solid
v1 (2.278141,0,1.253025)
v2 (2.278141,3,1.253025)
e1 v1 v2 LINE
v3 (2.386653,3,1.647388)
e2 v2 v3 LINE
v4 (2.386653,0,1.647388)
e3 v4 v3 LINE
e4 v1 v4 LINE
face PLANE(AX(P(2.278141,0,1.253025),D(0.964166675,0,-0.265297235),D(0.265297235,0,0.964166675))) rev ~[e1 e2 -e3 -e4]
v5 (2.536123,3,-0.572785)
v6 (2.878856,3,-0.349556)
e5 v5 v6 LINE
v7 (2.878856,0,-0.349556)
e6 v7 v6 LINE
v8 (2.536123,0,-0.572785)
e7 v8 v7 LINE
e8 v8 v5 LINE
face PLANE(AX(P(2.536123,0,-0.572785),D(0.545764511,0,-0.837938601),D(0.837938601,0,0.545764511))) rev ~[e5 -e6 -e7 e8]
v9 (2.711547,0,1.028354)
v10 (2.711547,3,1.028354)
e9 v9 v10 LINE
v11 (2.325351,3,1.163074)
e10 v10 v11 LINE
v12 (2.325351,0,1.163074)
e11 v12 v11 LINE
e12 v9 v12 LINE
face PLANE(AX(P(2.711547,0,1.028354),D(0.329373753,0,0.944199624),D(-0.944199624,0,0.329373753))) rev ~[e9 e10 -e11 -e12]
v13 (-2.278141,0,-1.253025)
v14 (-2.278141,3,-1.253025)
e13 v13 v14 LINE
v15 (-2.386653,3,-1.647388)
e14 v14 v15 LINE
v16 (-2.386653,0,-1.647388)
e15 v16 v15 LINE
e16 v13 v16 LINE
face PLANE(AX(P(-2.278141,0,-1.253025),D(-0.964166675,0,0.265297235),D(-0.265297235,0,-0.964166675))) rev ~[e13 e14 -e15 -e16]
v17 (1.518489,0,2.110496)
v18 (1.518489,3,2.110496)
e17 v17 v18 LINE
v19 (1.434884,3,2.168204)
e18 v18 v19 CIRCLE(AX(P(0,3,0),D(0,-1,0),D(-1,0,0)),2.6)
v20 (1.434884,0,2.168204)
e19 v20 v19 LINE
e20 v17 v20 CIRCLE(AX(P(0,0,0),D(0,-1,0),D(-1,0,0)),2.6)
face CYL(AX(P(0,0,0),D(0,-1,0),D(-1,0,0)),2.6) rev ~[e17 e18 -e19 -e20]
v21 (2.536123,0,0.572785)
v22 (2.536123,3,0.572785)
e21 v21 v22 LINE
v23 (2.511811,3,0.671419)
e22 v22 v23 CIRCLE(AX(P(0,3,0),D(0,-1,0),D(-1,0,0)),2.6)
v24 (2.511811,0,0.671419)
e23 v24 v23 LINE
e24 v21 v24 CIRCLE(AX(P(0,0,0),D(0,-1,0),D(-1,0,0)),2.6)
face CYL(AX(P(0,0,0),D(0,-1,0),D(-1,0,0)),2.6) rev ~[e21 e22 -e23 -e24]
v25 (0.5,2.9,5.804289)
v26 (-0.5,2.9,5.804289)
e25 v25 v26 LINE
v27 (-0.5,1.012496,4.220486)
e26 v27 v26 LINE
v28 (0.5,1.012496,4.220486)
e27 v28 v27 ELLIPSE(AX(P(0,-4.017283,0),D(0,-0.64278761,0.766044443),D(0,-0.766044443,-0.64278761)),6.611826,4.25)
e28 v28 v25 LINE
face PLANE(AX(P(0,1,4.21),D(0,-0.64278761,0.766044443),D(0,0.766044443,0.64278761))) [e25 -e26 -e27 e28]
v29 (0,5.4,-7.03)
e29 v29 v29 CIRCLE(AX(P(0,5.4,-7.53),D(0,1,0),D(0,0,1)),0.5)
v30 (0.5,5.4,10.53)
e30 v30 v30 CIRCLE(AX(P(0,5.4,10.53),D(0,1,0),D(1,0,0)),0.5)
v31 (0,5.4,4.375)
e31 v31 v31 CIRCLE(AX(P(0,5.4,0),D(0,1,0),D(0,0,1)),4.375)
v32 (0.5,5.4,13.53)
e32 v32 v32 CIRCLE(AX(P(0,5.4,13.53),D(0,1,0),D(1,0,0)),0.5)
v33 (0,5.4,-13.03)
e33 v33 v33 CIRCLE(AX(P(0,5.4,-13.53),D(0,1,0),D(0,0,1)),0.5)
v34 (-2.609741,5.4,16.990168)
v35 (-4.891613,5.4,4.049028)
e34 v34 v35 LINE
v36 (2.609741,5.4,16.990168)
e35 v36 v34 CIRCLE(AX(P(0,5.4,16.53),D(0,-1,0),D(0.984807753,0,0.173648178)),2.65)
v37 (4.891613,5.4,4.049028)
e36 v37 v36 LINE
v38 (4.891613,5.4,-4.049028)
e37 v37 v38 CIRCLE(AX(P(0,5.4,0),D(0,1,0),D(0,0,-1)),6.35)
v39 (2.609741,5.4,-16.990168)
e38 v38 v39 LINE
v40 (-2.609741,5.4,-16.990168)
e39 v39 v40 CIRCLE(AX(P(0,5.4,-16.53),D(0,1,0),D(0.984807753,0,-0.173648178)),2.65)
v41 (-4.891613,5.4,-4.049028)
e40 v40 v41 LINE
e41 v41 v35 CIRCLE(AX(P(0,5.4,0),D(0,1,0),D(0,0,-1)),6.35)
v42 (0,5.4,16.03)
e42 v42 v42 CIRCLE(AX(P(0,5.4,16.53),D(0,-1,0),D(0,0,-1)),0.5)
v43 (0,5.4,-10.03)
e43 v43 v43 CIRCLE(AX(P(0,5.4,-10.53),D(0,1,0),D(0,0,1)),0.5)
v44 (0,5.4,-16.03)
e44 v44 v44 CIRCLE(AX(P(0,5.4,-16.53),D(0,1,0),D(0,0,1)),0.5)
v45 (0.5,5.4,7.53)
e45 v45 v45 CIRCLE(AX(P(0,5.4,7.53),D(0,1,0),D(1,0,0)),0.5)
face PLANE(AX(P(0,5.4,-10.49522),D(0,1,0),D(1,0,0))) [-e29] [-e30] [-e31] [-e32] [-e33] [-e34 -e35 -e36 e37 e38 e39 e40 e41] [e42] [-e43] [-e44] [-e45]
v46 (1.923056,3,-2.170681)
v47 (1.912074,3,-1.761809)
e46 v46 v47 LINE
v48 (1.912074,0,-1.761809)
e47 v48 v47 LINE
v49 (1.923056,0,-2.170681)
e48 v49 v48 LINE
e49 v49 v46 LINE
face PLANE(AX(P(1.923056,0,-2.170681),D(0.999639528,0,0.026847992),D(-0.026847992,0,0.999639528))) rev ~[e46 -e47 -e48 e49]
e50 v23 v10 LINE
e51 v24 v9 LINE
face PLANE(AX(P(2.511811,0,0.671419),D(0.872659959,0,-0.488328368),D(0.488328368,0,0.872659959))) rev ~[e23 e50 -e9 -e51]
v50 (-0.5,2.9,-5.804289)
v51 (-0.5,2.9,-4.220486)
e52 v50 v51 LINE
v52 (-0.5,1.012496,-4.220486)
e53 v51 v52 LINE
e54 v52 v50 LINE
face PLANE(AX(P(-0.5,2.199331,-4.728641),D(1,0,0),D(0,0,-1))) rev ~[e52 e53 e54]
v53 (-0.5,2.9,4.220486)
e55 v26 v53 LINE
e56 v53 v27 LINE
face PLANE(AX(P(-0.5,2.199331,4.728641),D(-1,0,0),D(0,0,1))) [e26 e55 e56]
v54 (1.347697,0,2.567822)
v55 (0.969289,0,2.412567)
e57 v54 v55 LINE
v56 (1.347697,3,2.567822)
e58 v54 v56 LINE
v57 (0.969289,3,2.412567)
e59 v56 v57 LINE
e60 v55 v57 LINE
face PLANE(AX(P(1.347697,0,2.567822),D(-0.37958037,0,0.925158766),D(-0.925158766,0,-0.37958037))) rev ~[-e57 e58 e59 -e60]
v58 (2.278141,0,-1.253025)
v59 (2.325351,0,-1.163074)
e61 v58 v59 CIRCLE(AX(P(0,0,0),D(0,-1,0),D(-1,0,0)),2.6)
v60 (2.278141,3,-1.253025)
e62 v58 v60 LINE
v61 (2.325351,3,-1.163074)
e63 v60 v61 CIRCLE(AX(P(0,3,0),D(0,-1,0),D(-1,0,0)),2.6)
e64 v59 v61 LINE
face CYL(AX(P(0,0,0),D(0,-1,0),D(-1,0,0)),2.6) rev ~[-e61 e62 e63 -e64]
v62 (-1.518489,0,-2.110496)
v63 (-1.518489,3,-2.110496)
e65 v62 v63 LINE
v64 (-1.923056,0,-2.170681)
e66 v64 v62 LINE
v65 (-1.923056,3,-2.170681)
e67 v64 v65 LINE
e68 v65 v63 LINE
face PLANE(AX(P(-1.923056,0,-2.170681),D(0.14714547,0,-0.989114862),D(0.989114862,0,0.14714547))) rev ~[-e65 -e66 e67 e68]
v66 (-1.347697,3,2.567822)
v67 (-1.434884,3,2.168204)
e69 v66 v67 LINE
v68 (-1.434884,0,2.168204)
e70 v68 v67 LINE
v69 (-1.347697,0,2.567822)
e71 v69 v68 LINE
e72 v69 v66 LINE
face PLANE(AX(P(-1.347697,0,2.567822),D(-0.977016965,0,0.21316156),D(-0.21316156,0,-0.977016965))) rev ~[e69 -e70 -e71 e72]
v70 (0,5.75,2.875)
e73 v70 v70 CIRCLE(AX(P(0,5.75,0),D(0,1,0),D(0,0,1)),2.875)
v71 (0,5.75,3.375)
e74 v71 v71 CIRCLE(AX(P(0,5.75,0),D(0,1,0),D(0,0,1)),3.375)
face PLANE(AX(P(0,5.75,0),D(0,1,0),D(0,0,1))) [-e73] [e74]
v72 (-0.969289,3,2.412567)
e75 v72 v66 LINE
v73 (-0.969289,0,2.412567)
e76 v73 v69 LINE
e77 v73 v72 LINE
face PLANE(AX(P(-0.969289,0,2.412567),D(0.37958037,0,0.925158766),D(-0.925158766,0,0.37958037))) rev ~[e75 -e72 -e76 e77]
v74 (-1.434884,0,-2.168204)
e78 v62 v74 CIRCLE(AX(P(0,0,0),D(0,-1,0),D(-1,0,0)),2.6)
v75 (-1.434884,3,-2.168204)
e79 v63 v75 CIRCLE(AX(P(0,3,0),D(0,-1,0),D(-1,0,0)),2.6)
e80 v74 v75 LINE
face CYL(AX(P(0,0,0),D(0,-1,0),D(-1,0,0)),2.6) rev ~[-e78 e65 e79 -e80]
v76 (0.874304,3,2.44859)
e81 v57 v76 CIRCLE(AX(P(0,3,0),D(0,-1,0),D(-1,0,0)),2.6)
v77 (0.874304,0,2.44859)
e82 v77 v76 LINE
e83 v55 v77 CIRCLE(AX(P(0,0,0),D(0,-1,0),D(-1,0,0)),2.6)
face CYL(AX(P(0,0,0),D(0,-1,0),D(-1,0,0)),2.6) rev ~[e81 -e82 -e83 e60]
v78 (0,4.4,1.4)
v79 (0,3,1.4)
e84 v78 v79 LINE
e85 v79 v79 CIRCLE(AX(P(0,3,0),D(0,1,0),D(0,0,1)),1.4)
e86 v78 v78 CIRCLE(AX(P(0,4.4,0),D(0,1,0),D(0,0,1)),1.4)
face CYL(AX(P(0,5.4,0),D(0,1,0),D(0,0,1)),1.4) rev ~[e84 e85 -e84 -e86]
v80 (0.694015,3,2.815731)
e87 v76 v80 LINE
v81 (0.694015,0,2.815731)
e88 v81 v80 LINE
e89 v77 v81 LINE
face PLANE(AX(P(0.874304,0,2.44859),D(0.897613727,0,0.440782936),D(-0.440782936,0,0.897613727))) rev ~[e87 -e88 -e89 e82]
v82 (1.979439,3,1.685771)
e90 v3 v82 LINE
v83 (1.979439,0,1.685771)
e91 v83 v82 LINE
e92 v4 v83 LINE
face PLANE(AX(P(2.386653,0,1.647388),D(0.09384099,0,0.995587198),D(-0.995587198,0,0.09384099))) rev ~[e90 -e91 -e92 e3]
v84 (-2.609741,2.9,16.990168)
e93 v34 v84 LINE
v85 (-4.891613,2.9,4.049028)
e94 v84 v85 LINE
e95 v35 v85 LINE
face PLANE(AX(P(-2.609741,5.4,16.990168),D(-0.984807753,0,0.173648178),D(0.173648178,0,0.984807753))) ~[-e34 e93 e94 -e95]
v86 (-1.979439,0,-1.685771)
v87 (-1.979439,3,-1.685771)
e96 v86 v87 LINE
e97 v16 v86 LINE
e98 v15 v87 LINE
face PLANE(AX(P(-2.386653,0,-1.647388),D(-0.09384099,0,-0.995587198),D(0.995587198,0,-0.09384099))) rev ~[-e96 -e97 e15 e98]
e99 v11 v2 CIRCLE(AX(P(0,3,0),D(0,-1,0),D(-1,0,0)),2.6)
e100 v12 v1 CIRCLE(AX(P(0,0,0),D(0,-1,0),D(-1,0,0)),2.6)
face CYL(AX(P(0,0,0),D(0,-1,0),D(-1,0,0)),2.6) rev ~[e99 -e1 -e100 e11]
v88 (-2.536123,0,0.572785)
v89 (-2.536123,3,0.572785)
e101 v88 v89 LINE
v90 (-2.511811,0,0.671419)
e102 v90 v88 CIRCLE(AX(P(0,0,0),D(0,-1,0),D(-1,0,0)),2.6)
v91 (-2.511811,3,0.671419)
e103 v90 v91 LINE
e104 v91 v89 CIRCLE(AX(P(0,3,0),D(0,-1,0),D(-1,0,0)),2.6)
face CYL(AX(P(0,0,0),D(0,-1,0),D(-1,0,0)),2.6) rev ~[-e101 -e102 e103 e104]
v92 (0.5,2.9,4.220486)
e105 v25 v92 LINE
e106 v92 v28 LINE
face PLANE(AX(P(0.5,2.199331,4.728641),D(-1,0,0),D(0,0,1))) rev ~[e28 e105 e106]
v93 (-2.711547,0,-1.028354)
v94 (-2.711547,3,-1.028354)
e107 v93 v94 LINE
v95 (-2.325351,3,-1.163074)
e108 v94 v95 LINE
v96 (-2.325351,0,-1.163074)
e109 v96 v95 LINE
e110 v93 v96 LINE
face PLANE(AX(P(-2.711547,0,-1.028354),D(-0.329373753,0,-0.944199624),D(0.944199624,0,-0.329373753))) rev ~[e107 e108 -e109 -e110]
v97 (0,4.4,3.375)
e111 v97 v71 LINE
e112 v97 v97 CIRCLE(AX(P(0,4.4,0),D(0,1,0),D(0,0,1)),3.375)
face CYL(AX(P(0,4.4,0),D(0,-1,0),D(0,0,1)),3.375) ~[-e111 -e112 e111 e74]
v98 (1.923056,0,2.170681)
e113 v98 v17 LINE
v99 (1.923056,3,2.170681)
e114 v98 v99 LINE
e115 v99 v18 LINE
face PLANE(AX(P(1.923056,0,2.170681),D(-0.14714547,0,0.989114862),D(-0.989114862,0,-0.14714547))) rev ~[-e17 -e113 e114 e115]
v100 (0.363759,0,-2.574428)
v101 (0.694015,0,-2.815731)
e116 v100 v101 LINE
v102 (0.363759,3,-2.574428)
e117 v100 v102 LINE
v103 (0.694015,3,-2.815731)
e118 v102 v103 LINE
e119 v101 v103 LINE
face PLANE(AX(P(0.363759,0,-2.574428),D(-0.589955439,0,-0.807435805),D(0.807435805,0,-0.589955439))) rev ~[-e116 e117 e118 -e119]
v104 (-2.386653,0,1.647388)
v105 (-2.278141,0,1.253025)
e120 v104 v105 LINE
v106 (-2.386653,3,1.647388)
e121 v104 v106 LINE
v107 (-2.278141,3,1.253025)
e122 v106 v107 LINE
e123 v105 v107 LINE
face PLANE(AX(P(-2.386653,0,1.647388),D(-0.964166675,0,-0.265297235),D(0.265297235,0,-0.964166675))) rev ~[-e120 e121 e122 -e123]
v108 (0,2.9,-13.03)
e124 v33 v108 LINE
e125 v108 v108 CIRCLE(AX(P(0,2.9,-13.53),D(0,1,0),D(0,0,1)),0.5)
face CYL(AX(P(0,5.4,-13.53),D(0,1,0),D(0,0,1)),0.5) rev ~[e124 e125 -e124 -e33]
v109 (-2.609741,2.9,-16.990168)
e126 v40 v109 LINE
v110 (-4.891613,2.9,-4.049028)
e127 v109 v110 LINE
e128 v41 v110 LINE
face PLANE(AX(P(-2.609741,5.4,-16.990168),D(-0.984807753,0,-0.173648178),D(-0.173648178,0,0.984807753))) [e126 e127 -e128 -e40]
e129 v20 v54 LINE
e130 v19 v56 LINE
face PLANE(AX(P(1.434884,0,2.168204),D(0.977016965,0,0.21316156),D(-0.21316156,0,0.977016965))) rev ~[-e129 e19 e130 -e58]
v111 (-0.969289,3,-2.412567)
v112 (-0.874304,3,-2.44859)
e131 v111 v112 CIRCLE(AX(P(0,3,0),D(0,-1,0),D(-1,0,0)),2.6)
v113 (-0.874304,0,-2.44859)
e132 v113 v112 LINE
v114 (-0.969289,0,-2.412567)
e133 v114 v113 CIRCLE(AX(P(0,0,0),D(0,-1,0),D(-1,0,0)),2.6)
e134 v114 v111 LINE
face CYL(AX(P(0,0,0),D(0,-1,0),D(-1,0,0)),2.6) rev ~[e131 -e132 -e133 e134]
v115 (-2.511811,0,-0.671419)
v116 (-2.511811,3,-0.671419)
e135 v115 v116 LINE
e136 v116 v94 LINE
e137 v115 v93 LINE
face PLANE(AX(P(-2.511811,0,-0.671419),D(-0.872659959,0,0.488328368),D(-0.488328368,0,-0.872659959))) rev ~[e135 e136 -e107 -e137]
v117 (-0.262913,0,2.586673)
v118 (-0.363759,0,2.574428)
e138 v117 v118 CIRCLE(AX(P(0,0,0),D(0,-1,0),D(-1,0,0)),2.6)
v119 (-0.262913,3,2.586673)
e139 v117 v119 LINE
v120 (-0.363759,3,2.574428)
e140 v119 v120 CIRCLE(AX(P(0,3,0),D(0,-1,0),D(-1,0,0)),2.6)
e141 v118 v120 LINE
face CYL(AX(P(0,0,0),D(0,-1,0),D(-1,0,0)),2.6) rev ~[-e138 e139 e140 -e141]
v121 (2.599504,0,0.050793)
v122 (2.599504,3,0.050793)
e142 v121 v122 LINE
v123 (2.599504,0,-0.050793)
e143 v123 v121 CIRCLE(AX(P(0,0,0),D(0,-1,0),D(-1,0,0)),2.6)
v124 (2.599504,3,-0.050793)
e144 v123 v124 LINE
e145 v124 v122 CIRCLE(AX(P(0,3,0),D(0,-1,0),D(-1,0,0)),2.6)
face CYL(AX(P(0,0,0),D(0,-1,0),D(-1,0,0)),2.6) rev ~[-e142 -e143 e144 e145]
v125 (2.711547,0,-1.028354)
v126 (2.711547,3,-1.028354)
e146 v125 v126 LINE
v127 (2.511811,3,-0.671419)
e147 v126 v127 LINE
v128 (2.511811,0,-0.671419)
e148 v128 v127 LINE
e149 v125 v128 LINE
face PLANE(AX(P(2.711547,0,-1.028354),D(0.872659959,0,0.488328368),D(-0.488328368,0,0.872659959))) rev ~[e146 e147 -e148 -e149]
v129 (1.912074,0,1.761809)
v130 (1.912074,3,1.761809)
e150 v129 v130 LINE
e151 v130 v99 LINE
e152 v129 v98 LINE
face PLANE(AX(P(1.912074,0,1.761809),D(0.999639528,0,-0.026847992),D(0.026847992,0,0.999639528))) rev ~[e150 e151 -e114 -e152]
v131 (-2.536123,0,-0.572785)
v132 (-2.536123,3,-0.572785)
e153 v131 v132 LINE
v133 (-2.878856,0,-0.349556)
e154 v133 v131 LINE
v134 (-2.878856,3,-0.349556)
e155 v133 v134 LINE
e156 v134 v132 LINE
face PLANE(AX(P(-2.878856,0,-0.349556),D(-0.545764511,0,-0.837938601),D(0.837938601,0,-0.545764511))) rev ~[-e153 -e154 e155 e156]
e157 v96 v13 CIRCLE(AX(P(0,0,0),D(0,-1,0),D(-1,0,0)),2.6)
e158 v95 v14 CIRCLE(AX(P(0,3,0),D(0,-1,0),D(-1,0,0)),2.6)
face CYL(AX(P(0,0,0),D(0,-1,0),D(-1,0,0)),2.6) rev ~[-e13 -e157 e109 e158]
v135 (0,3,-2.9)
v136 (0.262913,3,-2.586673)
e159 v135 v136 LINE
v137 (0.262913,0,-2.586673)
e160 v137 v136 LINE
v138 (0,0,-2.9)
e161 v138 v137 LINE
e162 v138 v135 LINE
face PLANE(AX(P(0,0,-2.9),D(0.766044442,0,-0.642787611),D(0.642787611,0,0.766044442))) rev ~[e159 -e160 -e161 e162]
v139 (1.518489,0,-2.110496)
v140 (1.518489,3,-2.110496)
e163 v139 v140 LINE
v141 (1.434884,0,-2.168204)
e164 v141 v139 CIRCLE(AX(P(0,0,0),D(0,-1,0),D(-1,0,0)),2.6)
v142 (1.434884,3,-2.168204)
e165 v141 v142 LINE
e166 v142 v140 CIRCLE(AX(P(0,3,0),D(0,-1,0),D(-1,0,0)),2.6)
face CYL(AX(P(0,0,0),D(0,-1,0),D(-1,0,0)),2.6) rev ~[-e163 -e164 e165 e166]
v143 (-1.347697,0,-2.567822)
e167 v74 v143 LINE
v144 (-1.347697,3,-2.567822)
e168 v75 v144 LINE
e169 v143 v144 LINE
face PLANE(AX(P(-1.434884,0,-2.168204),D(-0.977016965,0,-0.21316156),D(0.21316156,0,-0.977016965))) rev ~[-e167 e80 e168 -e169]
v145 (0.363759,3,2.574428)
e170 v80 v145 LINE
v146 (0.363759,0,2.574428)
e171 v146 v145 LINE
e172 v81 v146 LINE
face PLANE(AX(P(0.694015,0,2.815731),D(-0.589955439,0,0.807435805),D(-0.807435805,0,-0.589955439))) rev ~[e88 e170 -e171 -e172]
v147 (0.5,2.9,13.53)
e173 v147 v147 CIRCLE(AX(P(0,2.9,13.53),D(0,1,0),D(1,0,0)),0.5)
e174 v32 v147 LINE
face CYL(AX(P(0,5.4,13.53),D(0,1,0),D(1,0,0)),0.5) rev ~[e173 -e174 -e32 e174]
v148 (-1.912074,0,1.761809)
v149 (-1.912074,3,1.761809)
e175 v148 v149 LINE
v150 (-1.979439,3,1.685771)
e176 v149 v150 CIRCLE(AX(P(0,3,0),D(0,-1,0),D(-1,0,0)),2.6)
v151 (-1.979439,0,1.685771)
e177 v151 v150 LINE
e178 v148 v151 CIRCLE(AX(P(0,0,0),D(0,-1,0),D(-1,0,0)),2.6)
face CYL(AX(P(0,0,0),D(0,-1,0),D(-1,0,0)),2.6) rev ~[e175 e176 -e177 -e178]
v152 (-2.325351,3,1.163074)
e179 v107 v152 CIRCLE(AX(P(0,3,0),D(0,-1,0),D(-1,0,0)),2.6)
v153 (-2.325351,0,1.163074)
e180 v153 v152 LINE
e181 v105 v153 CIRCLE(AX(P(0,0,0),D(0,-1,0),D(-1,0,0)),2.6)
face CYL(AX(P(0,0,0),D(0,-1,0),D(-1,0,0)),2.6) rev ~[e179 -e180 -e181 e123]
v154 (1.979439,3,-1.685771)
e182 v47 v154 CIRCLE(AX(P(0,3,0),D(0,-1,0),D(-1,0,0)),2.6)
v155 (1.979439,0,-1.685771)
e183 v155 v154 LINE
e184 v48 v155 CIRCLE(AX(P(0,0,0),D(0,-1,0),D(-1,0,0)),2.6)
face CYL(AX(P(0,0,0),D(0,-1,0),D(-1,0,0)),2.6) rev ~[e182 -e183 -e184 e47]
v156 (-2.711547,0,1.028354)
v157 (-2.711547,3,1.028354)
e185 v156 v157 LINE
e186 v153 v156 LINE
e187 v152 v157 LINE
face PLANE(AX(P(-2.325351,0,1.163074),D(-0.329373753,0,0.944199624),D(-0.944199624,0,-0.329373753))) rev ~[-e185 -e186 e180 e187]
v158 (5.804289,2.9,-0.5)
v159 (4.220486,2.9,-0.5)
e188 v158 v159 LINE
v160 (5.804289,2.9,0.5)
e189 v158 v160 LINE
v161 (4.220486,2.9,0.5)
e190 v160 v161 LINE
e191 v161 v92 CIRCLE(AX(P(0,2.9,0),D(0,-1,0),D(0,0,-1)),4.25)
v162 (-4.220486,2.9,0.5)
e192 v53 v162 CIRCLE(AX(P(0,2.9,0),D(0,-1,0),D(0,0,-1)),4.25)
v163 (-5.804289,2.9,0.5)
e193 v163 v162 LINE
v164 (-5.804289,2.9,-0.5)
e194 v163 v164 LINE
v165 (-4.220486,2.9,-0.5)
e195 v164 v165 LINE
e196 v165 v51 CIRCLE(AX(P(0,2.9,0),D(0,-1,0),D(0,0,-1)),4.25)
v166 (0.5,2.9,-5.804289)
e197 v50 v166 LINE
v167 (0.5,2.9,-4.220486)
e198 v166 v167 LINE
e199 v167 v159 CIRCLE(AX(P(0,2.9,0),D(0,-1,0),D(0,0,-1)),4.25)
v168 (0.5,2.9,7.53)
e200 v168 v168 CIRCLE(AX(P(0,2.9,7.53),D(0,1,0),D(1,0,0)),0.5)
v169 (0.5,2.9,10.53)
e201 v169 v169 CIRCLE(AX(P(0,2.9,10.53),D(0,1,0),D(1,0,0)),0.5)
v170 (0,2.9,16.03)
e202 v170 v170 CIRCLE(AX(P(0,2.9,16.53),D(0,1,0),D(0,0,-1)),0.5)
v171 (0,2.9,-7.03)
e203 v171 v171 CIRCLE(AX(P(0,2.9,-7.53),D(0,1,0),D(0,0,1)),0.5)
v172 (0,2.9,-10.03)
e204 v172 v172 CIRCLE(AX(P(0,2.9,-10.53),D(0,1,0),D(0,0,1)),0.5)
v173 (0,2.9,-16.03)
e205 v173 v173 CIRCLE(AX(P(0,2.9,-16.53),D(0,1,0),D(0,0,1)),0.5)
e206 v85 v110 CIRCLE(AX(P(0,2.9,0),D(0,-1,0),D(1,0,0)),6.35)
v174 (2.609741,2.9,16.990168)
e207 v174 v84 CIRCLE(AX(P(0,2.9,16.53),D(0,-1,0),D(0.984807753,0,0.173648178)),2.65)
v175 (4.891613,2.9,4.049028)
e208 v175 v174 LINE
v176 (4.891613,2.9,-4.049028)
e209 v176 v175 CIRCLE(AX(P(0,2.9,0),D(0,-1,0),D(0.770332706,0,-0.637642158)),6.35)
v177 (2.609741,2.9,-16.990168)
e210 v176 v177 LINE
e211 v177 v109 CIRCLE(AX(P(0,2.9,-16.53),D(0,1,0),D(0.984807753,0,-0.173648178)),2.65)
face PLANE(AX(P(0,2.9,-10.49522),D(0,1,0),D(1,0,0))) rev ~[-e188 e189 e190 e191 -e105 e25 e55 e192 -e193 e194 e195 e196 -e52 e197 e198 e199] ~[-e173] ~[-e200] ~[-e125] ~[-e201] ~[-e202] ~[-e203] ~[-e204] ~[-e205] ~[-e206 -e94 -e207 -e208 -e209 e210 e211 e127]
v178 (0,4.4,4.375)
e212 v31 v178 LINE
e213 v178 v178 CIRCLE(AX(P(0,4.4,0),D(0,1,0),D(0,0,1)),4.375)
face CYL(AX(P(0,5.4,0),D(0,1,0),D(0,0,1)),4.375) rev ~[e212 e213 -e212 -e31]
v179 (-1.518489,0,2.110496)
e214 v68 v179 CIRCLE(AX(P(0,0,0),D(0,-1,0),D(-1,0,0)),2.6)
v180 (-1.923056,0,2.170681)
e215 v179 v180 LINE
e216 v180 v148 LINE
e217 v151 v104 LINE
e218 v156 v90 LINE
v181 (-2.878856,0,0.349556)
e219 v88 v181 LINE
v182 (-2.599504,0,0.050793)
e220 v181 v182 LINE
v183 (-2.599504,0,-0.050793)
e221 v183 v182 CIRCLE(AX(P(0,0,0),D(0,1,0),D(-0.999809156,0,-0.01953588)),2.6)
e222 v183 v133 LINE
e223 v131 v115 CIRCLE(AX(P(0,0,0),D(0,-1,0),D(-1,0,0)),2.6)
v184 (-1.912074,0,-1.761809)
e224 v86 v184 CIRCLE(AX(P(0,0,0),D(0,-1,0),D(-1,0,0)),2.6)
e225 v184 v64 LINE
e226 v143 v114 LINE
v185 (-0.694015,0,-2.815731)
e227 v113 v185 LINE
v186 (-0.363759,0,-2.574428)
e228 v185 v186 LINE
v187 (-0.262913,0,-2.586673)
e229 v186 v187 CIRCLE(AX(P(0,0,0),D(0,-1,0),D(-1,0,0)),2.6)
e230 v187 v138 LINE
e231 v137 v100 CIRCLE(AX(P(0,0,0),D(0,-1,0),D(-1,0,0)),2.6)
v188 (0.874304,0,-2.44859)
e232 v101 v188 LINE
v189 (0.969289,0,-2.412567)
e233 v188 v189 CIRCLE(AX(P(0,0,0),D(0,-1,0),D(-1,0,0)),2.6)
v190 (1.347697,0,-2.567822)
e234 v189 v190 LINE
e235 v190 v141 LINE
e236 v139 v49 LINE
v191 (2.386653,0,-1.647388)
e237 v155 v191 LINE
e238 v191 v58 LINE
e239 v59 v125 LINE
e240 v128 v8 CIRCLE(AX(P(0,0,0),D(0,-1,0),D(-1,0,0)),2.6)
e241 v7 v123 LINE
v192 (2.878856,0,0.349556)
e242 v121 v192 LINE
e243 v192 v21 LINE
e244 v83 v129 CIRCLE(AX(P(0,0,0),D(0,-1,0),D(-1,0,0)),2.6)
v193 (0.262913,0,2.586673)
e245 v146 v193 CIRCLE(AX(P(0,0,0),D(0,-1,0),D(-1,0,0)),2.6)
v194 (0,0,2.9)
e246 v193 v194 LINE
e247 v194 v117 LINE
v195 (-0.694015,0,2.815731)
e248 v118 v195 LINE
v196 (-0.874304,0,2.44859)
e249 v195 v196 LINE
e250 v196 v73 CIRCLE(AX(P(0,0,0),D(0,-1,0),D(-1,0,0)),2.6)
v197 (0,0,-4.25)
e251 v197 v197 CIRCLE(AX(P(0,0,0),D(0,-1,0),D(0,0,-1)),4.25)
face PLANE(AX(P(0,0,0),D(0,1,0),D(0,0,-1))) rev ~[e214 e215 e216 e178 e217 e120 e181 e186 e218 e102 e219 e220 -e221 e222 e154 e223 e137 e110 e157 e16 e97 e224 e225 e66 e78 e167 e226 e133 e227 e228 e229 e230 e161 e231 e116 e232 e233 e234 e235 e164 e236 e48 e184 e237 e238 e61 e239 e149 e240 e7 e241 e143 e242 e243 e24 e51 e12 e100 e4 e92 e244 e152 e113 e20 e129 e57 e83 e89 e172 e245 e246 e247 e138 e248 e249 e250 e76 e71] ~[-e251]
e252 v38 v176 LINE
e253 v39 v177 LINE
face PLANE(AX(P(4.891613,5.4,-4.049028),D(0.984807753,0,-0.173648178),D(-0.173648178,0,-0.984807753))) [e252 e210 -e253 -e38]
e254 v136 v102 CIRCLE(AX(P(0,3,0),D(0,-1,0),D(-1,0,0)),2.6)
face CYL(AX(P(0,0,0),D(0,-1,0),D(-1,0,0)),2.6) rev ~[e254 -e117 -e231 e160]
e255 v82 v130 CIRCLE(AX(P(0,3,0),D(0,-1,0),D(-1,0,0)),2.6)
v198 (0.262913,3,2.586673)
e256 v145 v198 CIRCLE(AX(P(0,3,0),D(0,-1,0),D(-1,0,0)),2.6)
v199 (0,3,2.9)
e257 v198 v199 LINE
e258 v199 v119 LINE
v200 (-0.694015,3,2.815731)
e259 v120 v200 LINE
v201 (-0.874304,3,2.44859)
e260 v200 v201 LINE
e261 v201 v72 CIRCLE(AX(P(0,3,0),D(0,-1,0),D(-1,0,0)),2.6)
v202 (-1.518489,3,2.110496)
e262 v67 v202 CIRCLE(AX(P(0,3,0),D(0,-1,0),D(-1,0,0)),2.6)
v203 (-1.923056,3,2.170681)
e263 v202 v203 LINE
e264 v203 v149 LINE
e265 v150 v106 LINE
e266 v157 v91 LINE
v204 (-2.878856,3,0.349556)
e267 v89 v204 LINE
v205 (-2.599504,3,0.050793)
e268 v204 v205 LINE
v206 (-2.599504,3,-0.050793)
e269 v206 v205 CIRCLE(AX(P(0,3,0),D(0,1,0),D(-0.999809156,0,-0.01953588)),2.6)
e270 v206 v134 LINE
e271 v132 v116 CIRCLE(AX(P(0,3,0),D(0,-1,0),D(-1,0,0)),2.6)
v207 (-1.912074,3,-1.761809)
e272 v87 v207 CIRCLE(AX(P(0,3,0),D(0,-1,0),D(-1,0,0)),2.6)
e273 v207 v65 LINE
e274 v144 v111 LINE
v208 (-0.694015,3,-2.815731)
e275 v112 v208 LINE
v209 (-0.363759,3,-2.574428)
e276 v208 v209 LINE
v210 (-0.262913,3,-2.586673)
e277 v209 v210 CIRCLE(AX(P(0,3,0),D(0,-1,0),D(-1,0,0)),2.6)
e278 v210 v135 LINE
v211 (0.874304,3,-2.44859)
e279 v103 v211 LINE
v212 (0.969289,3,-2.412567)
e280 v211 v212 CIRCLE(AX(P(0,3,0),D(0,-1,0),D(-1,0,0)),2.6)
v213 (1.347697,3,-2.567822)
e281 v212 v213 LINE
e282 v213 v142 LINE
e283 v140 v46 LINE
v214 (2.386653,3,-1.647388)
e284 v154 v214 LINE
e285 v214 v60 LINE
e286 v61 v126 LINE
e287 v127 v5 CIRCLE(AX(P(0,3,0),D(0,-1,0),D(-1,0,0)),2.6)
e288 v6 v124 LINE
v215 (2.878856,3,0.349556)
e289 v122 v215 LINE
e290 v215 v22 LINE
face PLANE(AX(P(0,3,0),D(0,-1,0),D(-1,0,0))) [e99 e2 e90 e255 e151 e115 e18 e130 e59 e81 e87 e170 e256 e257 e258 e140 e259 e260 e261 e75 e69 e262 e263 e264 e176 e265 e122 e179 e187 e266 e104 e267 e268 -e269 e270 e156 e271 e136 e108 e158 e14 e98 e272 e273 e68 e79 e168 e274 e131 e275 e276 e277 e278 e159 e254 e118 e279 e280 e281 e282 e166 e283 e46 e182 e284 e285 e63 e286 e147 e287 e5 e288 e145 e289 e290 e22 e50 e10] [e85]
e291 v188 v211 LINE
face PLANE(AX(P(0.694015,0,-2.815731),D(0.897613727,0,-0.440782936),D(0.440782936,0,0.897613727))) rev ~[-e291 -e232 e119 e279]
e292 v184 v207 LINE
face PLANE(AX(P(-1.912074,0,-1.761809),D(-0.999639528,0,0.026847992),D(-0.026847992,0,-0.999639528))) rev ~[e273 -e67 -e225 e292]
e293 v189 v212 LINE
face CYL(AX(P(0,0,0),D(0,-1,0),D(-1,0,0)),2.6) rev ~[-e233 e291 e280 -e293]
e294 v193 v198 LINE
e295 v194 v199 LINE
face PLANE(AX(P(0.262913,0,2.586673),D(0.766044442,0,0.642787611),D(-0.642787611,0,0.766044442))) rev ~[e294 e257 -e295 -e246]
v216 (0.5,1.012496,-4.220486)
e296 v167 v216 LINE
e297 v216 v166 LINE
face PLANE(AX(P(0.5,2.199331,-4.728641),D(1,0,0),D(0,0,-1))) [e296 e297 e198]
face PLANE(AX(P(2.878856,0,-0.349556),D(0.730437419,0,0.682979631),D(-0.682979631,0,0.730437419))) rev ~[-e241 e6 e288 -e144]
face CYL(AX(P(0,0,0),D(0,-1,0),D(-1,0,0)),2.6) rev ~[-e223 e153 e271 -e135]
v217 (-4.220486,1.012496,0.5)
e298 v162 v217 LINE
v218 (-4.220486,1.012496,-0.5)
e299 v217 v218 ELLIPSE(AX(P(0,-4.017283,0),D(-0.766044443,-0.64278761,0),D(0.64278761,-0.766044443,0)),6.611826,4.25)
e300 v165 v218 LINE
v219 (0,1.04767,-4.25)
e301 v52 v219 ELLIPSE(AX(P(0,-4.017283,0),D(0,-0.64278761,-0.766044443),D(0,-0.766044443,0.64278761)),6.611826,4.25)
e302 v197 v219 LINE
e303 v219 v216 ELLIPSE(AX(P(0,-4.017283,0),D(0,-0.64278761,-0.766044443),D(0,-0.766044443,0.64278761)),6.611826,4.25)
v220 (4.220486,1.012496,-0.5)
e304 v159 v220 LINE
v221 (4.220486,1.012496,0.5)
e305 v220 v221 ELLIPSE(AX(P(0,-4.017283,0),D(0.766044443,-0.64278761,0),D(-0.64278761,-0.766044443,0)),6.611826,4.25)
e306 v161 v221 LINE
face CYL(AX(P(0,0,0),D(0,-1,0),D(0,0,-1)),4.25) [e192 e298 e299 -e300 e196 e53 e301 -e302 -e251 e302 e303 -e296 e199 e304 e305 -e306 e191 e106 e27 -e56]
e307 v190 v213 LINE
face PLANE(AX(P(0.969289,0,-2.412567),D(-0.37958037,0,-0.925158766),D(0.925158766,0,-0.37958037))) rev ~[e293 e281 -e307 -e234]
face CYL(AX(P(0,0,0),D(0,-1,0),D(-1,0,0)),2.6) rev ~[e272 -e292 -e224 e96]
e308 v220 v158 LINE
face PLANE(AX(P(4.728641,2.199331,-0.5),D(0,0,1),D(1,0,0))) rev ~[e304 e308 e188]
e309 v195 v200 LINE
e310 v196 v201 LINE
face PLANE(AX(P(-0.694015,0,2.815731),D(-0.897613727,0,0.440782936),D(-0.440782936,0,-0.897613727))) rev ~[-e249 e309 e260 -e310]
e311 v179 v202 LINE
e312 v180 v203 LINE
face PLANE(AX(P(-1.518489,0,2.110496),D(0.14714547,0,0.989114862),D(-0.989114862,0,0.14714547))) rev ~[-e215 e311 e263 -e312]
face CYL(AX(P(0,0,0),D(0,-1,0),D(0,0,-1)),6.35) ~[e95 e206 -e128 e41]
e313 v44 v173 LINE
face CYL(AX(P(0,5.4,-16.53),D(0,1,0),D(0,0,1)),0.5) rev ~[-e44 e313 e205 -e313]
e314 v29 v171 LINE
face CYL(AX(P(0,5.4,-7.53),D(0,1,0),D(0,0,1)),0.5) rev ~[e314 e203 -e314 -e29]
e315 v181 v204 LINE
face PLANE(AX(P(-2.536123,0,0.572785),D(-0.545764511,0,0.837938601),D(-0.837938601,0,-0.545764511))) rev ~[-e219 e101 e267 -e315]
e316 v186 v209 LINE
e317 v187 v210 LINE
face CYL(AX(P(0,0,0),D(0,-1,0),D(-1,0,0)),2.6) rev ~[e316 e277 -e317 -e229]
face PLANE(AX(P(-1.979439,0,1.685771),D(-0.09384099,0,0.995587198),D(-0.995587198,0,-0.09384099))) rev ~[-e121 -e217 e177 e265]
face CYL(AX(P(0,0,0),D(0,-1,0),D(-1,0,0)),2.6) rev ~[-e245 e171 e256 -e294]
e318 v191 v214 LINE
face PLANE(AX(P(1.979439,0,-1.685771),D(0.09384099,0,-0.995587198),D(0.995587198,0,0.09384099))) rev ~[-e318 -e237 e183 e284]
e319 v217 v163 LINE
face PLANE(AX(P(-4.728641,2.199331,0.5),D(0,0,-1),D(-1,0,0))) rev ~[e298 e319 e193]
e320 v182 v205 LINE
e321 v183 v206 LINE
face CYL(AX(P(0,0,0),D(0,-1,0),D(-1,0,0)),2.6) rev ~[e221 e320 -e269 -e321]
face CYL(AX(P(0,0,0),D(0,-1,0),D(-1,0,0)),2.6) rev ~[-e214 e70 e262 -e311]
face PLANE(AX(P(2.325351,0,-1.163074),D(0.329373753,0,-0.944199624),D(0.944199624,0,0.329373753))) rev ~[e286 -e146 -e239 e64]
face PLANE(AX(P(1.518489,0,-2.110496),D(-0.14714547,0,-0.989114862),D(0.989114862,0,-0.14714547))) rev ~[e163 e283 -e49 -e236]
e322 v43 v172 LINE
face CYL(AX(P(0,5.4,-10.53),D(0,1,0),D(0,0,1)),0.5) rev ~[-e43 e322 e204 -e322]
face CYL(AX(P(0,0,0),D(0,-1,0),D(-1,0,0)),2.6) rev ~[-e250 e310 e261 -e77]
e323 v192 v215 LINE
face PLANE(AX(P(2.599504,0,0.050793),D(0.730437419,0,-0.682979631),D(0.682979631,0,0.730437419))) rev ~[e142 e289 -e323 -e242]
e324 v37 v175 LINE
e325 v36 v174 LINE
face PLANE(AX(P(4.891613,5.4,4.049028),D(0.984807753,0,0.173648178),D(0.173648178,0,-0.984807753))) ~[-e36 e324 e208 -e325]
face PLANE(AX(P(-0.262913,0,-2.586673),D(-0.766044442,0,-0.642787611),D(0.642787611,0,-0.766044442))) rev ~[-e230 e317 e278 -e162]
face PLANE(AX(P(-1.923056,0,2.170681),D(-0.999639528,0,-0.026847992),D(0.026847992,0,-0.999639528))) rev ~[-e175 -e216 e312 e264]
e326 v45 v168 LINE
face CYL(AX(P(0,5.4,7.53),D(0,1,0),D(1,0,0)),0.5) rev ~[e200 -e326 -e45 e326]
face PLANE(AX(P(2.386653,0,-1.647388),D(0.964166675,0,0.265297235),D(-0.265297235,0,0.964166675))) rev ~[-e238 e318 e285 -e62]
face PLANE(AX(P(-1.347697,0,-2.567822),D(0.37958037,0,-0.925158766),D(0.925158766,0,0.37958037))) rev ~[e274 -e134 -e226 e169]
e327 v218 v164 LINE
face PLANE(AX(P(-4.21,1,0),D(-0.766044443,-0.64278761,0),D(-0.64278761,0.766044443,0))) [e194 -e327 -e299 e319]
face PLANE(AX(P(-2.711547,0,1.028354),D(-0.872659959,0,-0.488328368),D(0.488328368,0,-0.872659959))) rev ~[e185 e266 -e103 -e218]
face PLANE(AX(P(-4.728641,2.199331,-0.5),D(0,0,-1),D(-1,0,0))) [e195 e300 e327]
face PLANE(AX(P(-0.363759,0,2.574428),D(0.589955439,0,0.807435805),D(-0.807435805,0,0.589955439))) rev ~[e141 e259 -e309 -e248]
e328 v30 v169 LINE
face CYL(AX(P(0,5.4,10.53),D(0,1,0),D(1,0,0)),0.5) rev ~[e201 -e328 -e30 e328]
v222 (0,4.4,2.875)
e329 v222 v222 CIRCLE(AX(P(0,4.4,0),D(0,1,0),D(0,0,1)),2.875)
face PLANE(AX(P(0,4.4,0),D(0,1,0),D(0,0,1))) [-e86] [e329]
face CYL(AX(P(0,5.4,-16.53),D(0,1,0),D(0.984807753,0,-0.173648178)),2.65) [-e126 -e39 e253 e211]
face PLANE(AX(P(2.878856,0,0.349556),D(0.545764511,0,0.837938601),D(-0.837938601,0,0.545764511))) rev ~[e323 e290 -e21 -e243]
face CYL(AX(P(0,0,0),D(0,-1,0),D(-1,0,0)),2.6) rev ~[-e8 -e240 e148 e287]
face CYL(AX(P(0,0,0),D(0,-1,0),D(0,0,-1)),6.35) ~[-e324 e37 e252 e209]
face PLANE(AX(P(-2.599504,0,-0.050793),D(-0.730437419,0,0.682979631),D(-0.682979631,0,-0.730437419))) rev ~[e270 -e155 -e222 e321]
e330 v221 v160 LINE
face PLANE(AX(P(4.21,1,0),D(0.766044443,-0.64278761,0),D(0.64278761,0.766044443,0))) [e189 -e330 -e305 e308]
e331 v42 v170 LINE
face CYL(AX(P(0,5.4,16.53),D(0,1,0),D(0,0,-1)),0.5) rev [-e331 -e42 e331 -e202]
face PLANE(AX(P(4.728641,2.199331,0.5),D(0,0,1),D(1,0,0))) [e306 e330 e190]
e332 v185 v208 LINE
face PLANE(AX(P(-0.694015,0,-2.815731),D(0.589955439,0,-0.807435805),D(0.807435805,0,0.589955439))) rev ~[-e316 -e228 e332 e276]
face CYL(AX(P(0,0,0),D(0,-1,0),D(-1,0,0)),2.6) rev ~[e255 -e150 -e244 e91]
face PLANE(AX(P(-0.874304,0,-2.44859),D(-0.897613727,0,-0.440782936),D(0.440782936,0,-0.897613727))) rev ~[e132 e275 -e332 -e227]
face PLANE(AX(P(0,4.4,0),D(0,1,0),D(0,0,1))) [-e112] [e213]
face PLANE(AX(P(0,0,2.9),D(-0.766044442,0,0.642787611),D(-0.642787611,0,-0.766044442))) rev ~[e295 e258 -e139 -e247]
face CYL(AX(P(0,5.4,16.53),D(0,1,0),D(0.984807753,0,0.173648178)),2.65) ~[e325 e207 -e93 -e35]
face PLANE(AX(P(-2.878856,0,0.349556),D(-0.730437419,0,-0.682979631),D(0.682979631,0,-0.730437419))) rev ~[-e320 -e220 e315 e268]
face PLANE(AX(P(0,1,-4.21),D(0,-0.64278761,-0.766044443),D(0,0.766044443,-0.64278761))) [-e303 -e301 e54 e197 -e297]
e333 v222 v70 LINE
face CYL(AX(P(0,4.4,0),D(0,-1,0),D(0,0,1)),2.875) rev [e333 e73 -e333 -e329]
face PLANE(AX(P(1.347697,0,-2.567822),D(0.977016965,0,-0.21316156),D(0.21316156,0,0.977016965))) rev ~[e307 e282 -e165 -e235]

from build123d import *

# Parameters (mm, degrees)
BASES_R                     = 6.35
BASE_DEPTH                  = 5.4
TOPBORES_R                  = 1.4
TOP_BORE_DEPTH              = 11.478788098
HORN_HALF_DEPTH             = 2.5
HORNATTACHS_R               = 0.5
HORN_ATTACH_DEPTH           = 21.913031822
HA_LP_COUNT                 = 4
HA_LP_PITCH                 = 3
HORN_BODIES_COPY_1_SKETCH_R = 0.5
HORN_BODIES_COPY_1_DEPTH    = 21.913031822
HORN_BODIES_COPY_2_SKETCH_R = 0.5
HORN_BODIES_COPY_2_DEPTH    = 21.913031822
HORN_BODIES_COPY_3_SKETCH_R = 0.5
HORN_BODIES_COPY_3_DEPTH    = 21.913031822
TOOTH_DEPTH                 = 3
TOOTH_CP_COUNT              = 26
BOTTOMBORES_R               = 2.6
BOTTOM_BORE_DEPTH           = 3
HOLDINGSHAFTS_R             = 6.35
HOLDINGSHAFTS_R_2           = 4.25
HOLDING_SHAFT_DEPTH         = 2.9
RIB_DEPTH                   = 0.5
RIB_CP_COUNT                = 4
TOPCUTS_R                   = 4.375
TOP_CUT_DEPTH               = 1
TOPPOCKETCYLINDERS_R        = 3.375
TOPPOCKETCYLINDERS_R_2      = 2.875
TOP_POCKET_CYLINDER_DEPTH   = 1.35


with BuildPart() as part:
    # BaseS → BASE (new body)
    with BuildSketch(Plane(origin=(0, 0, 0), x_dir=(1, 0, 0), z_dir=(0, 1, 0))):
        with Locations(Location((0, 0, 0), (0, 0, 90))):
            Circle(BASES_R)
    extrude(amount=BASE_DEPTH)

    # TopBoreS → TOP BORE (cut, through all)
    with BuildSketch(Plane(origin=(0, 5.4, 0), x_dir=(1, 0, 0), z_dir=(0, 1, 0))):
        with Locations(Location((0, 0, 0), (0, 0, 270))):
            Circle(TOPBORES_R)
    extrude(amount=-TOP_BORE_DEPTH, mode=Mode.SUBTRACT)

    # HornHalfS → HORN HALF (add)
    with BuildSketch(Plane(origin=(0, 5.4, 0), x_dir=(1, 0, 0), z_dir=(0, 1, 0))):
        with BuildLine():
            Line((-2.609740545, 16.990167671), (-4.891612682, 4.049027706))
            ThreePointArc((-4.891612682, 4.049027706), (0, 6.35), (4.891612682, 4.049027706))
            Line((4.891612682, 4.049027706), (2.609740545, 16.990167671))
            ThreePointArc((2.609740545, 16.990167671), (0, 19.18), (-2.609740545, 16.990167671))
        make_face()
    horn_half = extrude(amount=-HORN_HALF_DEPTH)

    # HornAttachS → HORN ATTACH (cut, through all)
    with BuildSketch(Plane(origin=(0, 5.4, 0), x_dir=(1, 0, 0), z_dir=(0, 1, 0))):
        with Locations(Location((0, 16.53, 0), (0, 0, 270))):
            Circle(HORNATTACHS_R)
    horn_attach = extrude(amount=-HORN_ATTACH_DEPTH, mode=Mode.SUBTRACT)

    # HA LP: HORN ATTACH ×4
    with Locations(*[(0, 0, i * HA_LP_PITCH) for i in range(1, HA_LP_COUNT)]):
        add(horn_attach, mode=Mode.SUBTRACT)

    # HORN BODIES: HORN HALF, HORN ATTACH across plane
    add(horn_half.mirror(Plane.XY))
    add(horn_attach.mirror(Plane.XY), mode=Mode.SUBTRACT)

    # HORN BODIES copy 1 sketch → HORN BODIES copy 1 (cut, through all)
    with BuildSketch(Plane(origin=(0, 5.4, -3), x_dir=(1, 0, 0), z_dir=(0, 1, 0))):
        with Locations((0, -16.53)):
            Circle(HORN_BODIES_COPY_1_SKETCH_R)
    extrude(amount=-HORN_BODIES_COPY_1_DEPTH, mode=Mode.SUBTRACT)

    # HORN BODIES copy 2 sketch → HORN BODIES copy 2 (cut, through all)
    with BuildSketch(Plane(origin=(0, 5.4, -6), x_dir=(1, 0, 0), z_dir=(0, 1, 0))):
        with Locations((0, -16.53)):
            Circle(HORN_BODIES_COPY_2_SKETCH_R)
    extrude(amount=-HORN_BODIES_COPY_2_DEPTH, mode=Mode.SUBTRACT)

    # HORN BODIES copy 3 sketch → HORN BODIES copy 3 (cut, through all)
    with BuildSketch(Plane(origin=(0, 5.4, -9), x_dir=(1, 0, 0), z_dir=(0, 1, 0))):
        with Locations((0, -16.53)):
            Circle(HORN_BODIES_COPY_3_SKETCH_R)
    extrude(amount=-HORN_BODIES_COPY_3_DEPTH, mode=Mode.SUBTRACT)

    # ToothS → TOOTH (cut)
    with BuildSketch(Plane.XZ):
        with BuildLine():
            Line((0, -2.9), (0.262912611, -2.586672952))
            ThreePointArc((0.262912611, -2.586672952), (0, -2.6), (-0.262912611, -2.586672952))
            Line((-0.262912611, -2.586672952), (0, -2.9))
        make_face()
    tooth = extrude(amount=-TOOTH_DEPTH, mode=Mode.SUBTRACT)

    # TOOTH CP: TOOTH ×26 about axis
    tooth_cp_axis = Axis((0, 0, 0), (0, 1, 0))
    for i in range(1, TOOTH_CP_COUNT):
        add(tooth.rotate(tooth_cp_axis, i * 360 / TOOTH_CP_COUNT), mode=Mode.SUBTRACT)

    # BottomBoreS → BOTTOM BORE (cut)
    with BuildSketch(Plane(origin=(0, 0, 0), x_dir=(-1, 0, 0), z_dir=(0, -1, 0))):
        Circle(BOTTOMBORES_R)
    extrude(amount=-BOTTOM_BORE_DEPTH, mode=Mode.SUBTRACT)

    # HoldingShaftS → HOLDING SHAFT (cut)
    with BuildSketch(Plane.XZ):
        Circle(HOLDINGSHAFTS_R)
        with Locations(Location((0, 0, 0), (0, 0, 270))):
            Circle(HOLDINGSHAFTS_R_2, mode=Mode.SUBTRACT)
    extrude(amount=-HOLDING_SHAFT_DEPTH, mode=Mode.SUBTRACT)

    # RibS → RIB (add, symmetric)
    with BuildSketch(Plane.XY):
        Polygon((4.21, 1), (5.804289299, 2.9), (4.21, 2.9), (4.16, 2.9), (4.16, 1), align=None)
    rib = extrude(amount=RIB_DEPTH, both=True)

    # RIB CP: RIB ×4 about axis
    rib_cp_axis = Axis((0, 0, 0), (0, 1, 0))
    for i in range(1, RIB_CP_COUNT):
        add(rib.rotate(rib_cp_axis, i * 360 / RIB_CP_COUNT))

    # TopCutS → TOP CUT (cut)
    with BuildSketch(Plane(origin=(0, 5.4, 0), x_dir=(1, 0, 0), z_dir=(0, 1, 0))):
        with Locations(Location((0, 0, 0), (0, 0, 270))):
            Circle(TOPCUTS_R)
    extrude(amount=-TOP_CUT_DEPTH, mode=Mode.SUBTRACT)

    # TopPocketCylinderS → TOP POCKET CYLINDER (add)
    with BuildSketch(Plane(origin=(0, 4.4, 0), x_dir=(1, 0, 0), z_dir=(0, 1, 0))):
        with Locations(Location((0, 0, 0), (0, 0, 270))):
            Circle(TOPPOCKETCYLINDERS_R)
        with Locations(Location((0, 0, 0), (0, 0, 270))):
            Circle(TOPPOCKETCYLINDERS_R_2, mode=Mode.SUBTRACT)
    extrude(amount=TOP_POCKET_CYLINDER_DEPTH)


solid = part.part
